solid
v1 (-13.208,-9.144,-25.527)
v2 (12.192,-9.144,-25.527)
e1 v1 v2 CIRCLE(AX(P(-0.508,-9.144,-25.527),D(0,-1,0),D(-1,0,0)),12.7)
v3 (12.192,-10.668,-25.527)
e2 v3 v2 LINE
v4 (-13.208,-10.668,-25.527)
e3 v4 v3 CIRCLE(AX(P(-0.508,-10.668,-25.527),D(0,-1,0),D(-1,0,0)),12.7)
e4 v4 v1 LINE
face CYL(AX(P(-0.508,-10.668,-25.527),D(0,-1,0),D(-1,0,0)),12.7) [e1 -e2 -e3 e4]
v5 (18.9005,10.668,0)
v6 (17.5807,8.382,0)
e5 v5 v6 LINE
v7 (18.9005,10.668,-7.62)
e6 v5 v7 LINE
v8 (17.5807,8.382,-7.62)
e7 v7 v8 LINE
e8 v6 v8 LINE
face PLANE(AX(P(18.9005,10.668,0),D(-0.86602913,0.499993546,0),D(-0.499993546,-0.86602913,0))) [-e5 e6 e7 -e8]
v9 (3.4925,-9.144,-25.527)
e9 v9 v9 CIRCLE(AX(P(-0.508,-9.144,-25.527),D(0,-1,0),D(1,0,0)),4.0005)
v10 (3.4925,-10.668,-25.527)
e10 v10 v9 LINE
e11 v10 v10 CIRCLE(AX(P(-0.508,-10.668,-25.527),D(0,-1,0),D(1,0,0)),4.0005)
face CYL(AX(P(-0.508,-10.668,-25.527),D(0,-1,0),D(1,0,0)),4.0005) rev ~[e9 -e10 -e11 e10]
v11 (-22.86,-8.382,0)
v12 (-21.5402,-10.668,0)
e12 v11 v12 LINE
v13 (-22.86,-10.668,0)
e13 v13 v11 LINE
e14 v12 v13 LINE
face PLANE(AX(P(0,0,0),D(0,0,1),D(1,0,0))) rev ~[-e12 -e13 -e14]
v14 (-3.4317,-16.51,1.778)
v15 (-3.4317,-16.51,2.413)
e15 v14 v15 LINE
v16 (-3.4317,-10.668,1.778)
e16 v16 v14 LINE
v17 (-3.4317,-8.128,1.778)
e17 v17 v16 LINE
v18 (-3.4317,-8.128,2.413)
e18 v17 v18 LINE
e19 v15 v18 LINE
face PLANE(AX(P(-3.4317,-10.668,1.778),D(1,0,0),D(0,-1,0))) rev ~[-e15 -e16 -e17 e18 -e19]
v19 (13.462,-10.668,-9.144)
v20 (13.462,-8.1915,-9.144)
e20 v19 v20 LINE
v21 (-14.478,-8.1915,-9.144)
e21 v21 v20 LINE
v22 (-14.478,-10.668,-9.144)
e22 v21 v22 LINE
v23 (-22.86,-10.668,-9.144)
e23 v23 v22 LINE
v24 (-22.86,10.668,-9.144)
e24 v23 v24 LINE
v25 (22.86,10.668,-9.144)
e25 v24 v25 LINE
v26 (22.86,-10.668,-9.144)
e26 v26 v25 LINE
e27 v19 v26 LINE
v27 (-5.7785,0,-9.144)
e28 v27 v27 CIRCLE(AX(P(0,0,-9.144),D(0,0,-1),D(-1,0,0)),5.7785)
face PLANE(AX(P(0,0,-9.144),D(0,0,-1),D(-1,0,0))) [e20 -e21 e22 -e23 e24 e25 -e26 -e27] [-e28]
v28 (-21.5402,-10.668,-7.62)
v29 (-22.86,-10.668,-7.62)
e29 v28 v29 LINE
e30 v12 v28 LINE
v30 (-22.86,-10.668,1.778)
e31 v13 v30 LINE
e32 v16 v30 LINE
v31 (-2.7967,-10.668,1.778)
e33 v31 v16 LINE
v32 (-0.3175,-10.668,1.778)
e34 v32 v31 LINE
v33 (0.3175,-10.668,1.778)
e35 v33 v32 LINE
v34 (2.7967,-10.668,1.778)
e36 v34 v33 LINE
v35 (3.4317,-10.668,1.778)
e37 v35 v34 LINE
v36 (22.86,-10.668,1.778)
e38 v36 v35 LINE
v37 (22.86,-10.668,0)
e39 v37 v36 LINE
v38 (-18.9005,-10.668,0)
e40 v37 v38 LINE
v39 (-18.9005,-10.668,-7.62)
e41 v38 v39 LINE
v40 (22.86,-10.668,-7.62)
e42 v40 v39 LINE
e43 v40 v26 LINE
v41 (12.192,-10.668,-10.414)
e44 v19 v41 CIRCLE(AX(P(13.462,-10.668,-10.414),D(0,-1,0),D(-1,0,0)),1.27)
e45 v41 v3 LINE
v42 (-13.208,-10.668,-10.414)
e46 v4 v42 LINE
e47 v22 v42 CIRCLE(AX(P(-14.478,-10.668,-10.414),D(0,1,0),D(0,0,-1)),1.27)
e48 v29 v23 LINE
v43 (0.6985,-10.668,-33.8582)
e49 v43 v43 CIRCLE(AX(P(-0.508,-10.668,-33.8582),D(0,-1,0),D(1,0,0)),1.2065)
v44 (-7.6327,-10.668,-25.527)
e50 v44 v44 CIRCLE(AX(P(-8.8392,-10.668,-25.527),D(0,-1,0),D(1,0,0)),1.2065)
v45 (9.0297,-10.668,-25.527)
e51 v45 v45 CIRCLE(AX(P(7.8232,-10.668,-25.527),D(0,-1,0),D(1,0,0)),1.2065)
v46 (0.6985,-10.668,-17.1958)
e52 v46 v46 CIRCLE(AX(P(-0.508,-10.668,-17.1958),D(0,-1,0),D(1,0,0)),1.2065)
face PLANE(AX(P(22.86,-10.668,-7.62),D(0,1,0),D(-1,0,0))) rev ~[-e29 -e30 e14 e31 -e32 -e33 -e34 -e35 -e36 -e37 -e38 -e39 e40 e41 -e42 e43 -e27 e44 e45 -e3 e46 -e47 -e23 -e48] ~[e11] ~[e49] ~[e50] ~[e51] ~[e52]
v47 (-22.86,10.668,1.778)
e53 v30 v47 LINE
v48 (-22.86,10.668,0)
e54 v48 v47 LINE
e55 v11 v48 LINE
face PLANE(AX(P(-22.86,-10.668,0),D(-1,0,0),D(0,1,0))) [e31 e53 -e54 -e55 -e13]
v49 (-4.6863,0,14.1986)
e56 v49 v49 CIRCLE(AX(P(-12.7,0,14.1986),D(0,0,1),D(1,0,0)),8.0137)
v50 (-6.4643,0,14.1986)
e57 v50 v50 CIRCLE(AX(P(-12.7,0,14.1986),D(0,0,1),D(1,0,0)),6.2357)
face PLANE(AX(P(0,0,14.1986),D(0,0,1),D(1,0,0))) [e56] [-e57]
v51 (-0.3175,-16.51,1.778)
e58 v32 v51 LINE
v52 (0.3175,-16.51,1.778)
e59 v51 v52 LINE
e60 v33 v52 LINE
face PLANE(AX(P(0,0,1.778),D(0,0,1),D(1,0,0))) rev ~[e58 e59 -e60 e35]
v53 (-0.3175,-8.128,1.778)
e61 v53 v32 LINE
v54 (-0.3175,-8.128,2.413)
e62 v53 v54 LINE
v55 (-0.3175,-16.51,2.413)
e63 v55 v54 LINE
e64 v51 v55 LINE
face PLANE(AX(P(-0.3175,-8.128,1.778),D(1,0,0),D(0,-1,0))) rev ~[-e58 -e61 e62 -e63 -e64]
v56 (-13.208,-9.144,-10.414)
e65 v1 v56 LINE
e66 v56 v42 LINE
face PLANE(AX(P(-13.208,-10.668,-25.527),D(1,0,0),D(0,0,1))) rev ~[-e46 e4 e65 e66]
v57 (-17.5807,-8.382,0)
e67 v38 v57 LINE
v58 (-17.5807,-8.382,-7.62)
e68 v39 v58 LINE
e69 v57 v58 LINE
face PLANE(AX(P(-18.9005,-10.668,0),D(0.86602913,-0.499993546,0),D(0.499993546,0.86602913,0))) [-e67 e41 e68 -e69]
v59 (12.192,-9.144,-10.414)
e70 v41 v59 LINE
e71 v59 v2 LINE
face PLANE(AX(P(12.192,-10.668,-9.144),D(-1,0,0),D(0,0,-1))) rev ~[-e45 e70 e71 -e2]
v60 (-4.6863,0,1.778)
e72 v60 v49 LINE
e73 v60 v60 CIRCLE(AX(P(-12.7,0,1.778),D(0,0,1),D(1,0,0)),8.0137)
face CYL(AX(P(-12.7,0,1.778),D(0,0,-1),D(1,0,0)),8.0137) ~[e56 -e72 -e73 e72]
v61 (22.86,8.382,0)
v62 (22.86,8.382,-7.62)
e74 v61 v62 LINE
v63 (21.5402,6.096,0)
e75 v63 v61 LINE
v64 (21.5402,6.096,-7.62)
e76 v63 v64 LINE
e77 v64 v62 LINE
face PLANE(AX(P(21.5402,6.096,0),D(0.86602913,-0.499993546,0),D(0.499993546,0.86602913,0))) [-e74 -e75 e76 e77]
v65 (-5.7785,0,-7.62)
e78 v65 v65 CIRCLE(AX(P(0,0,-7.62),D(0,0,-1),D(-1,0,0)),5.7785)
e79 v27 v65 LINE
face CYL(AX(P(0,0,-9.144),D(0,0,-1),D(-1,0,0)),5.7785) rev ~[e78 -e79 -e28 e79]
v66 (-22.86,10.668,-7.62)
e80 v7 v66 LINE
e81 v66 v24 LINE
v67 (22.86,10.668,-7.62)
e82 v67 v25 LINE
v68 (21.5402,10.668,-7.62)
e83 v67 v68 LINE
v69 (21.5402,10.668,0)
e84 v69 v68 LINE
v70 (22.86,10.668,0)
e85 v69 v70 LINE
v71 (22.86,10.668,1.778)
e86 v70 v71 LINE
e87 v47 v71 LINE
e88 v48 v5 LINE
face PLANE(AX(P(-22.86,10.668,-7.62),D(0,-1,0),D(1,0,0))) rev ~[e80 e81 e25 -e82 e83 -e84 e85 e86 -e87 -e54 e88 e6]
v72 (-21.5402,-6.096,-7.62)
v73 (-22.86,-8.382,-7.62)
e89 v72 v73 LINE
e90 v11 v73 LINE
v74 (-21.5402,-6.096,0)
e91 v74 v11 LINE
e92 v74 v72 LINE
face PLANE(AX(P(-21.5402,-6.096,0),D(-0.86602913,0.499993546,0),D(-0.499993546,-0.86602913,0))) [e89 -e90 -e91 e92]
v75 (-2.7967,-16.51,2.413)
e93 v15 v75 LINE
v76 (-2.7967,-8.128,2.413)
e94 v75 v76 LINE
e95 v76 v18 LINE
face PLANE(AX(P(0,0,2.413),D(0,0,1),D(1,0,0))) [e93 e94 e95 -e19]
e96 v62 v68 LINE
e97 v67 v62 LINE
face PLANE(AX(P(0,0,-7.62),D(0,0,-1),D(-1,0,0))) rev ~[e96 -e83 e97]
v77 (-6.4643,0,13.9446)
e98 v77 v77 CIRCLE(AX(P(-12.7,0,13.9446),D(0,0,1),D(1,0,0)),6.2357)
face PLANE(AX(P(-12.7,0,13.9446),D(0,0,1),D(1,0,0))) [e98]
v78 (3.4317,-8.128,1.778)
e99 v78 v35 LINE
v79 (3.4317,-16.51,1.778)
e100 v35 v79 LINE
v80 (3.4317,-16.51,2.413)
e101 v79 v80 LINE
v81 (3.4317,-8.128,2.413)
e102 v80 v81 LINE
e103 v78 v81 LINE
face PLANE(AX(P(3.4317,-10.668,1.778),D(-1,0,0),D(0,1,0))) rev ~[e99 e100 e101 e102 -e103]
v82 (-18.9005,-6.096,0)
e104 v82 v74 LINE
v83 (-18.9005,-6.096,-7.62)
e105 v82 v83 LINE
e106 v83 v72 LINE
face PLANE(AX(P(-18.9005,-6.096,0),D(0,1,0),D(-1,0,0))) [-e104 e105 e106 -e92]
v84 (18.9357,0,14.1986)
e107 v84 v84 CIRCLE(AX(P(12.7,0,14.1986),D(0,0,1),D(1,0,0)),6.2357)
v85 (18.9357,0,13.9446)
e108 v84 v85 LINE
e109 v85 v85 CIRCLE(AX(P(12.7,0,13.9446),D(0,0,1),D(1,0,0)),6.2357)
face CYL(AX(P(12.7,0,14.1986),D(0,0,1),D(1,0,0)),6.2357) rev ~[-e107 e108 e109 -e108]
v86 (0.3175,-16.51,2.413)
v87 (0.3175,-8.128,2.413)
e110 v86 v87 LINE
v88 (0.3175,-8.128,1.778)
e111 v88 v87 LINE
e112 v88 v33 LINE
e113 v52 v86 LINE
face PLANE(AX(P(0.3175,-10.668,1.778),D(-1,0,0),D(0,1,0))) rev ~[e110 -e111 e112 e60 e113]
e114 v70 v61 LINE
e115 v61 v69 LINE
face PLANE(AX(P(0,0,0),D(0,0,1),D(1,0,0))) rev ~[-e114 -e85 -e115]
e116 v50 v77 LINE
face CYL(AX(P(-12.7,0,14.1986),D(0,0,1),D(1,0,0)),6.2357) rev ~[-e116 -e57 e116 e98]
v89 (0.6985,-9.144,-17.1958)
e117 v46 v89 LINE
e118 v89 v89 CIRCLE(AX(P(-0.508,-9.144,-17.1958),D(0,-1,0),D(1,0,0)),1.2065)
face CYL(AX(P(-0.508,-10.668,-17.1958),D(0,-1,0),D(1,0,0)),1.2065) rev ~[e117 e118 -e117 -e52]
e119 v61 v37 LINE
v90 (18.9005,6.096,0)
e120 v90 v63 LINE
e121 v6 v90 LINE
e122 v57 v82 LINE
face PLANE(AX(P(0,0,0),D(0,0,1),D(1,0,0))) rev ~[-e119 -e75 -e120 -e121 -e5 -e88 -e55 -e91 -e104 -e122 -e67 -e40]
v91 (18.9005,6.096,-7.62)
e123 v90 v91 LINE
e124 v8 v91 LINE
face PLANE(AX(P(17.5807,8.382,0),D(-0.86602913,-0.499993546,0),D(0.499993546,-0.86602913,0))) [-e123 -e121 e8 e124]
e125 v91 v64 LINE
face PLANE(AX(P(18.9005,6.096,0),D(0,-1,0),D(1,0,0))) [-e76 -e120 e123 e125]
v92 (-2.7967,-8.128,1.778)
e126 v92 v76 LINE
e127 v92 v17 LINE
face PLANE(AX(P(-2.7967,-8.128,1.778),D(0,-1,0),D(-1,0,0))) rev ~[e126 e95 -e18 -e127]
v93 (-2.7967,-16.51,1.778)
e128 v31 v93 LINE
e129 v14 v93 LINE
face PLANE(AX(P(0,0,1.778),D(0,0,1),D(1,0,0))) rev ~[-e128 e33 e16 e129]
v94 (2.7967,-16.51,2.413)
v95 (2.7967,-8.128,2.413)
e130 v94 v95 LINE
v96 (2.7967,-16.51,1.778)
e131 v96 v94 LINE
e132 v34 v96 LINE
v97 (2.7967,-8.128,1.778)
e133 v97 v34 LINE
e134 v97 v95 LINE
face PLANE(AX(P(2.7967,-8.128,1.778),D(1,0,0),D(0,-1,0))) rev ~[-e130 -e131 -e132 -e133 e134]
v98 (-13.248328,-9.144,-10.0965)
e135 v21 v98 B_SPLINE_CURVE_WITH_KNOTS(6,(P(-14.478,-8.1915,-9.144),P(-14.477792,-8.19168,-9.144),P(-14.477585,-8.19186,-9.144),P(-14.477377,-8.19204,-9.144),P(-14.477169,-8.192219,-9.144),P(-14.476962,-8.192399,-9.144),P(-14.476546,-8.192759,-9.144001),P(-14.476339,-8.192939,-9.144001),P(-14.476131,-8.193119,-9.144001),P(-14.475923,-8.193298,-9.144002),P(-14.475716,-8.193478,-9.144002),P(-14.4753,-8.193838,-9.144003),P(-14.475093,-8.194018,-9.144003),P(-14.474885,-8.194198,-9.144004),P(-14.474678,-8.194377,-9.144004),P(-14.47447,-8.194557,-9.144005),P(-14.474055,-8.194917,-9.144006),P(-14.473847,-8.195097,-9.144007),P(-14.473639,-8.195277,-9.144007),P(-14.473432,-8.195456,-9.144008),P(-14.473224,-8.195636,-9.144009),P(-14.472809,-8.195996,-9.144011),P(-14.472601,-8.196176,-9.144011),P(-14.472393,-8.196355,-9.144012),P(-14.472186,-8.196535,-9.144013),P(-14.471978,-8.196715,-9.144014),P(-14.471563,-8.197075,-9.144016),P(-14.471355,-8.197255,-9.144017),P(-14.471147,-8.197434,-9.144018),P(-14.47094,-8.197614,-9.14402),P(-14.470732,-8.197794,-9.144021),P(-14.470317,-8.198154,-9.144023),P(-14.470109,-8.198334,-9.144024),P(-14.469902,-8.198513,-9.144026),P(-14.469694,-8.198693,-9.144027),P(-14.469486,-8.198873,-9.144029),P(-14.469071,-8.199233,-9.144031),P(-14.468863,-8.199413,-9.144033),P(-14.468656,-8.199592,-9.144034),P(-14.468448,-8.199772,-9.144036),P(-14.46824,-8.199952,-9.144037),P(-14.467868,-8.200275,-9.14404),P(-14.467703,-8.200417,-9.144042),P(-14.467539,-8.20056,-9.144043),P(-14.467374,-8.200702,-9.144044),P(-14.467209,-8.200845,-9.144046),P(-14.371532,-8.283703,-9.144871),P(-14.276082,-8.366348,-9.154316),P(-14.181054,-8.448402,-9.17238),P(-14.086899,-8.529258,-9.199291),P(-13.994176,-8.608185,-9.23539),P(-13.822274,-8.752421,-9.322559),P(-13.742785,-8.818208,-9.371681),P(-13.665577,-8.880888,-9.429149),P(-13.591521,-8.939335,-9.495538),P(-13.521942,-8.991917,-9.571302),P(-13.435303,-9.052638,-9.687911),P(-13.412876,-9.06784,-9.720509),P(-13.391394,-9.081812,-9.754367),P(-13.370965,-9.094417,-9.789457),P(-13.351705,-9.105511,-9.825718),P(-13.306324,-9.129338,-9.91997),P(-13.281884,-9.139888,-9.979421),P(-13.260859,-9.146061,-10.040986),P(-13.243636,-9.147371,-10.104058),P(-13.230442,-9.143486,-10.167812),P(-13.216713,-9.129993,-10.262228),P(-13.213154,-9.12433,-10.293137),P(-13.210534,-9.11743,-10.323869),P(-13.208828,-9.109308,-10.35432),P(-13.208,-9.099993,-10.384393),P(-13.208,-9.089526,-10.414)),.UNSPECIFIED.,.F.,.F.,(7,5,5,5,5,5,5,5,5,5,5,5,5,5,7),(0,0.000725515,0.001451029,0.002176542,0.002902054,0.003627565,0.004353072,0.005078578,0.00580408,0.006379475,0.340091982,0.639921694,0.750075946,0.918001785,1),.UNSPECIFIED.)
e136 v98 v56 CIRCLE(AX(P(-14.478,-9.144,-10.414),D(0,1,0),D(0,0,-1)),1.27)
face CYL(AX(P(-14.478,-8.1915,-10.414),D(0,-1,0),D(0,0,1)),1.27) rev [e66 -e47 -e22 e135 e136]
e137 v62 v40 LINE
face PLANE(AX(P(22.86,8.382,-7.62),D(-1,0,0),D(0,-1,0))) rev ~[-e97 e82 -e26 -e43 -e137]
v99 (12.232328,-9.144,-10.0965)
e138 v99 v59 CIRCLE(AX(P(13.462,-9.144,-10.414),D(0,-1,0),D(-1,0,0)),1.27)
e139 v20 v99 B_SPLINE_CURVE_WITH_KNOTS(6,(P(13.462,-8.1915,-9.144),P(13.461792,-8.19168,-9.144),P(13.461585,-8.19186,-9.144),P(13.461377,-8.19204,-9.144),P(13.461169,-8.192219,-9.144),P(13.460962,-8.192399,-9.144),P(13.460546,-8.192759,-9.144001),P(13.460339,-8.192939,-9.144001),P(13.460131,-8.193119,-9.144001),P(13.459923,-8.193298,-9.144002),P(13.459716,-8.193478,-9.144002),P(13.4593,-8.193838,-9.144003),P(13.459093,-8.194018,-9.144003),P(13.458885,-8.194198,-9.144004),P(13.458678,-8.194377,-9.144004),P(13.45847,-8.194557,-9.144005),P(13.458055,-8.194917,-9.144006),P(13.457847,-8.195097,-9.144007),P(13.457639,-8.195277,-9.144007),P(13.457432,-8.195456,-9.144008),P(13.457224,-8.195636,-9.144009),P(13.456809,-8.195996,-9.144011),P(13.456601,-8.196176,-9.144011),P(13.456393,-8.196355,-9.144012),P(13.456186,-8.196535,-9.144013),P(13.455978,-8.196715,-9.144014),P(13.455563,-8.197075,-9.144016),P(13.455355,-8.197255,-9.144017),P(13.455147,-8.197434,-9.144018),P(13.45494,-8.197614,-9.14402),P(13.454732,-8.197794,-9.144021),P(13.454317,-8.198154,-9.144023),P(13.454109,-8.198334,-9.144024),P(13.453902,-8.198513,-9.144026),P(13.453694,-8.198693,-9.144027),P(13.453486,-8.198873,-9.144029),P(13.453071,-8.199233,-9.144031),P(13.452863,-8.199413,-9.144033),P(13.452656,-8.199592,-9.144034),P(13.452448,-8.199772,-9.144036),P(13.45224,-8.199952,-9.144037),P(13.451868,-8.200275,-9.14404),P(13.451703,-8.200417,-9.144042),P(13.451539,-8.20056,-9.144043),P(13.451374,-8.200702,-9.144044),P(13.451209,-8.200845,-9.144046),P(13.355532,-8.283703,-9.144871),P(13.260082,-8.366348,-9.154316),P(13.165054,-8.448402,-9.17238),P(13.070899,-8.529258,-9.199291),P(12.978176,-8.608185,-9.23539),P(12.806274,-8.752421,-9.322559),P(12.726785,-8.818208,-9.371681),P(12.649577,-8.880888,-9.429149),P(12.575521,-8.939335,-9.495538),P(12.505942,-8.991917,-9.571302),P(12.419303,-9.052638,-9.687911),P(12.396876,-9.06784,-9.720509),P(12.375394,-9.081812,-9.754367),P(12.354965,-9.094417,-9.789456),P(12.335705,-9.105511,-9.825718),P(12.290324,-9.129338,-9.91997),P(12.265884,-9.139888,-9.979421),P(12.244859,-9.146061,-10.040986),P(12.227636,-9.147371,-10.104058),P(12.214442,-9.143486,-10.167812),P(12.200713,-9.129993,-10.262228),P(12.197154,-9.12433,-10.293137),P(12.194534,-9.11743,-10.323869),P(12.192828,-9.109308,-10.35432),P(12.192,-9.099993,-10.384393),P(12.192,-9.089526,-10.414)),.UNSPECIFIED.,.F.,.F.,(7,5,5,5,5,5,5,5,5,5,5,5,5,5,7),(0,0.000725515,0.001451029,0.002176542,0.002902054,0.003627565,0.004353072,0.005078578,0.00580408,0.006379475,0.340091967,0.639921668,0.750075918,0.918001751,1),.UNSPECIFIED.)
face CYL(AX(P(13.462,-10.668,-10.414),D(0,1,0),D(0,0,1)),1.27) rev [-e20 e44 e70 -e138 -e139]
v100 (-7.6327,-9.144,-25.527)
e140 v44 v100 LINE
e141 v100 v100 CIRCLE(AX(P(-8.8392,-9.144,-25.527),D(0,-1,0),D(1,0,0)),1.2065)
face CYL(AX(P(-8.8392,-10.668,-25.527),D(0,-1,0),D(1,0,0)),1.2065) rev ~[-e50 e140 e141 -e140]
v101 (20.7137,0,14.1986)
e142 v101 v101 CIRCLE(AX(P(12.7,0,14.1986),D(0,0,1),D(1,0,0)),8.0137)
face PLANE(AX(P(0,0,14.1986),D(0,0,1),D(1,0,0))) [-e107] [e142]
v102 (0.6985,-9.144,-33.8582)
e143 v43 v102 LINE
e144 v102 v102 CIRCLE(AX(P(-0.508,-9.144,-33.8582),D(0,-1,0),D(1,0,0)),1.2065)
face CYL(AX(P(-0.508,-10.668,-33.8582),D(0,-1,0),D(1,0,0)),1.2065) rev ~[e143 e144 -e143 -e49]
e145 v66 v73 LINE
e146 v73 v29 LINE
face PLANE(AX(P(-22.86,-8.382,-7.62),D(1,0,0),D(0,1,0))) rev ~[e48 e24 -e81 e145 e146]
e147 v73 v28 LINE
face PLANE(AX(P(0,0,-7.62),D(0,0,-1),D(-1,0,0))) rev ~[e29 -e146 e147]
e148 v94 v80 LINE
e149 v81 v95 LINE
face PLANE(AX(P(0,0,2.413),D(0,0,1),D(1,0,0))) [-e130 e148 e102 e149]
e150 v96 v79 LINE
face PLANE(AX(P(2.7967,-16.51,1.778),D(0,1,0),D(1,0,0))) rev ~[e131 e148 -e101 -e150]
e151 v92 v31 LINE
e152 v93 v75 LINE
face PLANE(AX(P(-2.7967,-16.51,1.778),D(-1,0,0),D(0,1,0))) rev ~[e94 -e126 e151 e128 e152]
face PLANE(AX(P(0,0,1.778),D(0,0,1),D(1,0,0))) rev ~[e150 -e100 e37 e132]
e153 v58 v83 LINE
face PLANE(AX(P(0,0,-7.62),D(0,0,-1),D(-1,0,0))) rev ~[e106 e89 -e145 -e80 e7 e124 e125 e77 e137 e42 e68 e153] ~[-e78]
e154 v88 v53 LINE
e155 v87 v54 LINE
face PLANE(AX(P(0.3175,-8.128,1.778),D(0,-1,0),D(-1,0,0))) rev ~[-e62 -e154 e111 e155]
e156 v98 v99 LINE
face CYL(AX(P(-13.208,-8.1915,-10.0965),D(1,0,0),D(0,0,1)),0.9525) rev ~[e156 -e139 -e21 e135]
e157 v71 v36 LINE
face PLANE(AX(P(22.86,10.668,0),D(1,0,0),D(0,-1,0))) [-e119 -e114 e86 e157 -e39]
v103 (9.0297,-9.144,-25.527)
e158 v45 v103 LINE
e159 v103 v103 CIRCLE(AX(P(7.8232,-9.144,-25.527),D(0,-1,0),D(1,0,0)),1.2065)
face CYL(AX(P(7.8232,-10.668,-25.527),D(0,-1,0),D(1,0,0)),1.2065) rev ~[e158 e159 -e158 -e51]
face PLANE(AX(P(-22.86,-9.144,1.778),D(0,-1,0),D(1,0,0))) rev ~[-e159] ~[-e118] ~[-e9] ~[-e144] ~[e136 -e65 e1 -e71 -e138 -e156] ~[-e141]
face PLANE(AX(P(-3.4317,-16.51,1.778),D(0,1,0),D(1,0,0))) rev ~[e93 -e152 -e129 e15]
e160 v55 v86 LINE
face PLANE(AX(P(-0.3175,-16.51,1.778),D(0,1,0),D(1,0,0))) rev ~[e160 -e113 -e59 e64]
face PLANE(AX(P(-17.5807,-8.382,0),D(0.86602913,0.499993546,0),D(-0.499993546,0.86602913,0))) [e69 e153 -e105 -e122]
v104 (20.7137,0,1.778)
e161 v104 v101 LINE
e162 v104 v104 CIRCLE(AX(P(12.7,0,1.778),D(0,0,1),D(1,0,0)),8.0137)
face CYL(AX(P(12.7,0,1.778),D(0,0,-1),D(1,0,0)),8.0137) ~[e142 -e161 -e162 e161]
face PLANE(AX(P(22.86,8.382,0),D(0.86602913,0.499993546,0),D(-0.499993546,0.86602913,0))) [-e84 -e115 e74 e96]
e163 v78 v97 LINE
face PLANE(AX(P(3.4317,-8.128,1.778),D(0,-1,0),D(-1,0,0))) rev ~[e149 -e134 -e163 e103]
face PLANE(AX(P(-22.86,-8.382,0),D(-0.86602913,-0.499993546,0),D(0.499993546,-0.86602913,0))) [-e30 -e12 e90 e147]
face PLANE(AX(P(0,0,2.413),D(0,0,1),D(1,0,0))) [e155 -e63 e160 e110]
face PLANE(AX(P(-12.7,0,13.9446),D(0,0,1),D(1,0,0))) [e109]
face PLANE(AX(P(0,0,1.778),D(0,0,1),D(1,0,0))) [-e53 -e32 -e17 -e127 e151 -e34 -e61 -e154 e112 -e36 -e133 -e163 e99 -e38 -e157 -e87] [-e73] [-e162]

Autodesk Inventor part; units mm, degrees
ref_plane "YZ Plane" through (0, 0, 0) normal (1, 0, 0) x (0, 1, 0)
ref_plane "XZ Plane" through (0, 0, 0) normal (0, 1, 0) x (-1, 0, 0)
sketch "Sketch1" plane through (0, 0, 0) normal (0, 0, 1) x (1, 0, 0)
  line L0 (-22.86, 10.668) -> (22.86, 10.668)
  line L1 (22.86, 10.668) -> (22.86, -10.668)
  line L2 (22.86, -10.668) -> (-22.86, -10.668)
  line L3 (-22.86, -10.668) -> (-22.86, 10.668)
  point P0 (0, 0)
  point P1 (-22.86, 0)
  point P2 (0, 10.668)
  dimension "d0" = 45.72
  dimension "d1" = 21.336
extrude "Extrusion1" add sketch "Sketch1" along normal blind 1.778
sketch "Sketch2" plane through (0, 0, 1.778) normal (0, 0, 1) x (1, 0, 0)
  circle A0 centre (-12.7, 0) radius 8.0137
  circle A1 centre (12.7, 0) radius 8.0137
  point P0 (0, 0)
  dimension "d4" = 16.0274
  dimension "d5" = 16.0274
  dimension "d6" = 12.7
  dimension "d7" = 12.7
extrude "Extrusion2" add sketch "Sketch2" along normal blind 12.4206
sketch "Sketch3" plane through (-12.7, 0, 14.1986) normal (0, 0, 1) x (1, 0, 0)
  circle A0 centre (0, 0) radius 8.0137 projected
  circle A1 centre (25.4, 0) radius 8.0137 projected
  circle A2 centre (0, 0) radius 6.2357
  circle A3 centre (25.4, 0) radius 6.2357
  point P0 (12.7, 0)
  dimension "d11" = 1.778
  dimension "d12" = 1.778
extrude "Extrusion3" cut sketch "Sketch3" against normal blind 0.254 contours A2 | A3
sketch "Sketch4" plane through (0, 0, 0) normal (0, 0, -1) x (-1, 0, 0)
  line L0 (-18.9005, 6.096) -> (-21.5402, 6.096)
  line L1 (-21.5402, 6.096) -> (-22.86, 8.382)
  line L2 (-22.86, 8.382) -> (-21.5402, 10.668)
  line L3 (-21.5402, 10.668) -> (-18.9005, 10.668)
  line L4 (-18.9005, 10.668) -> (-17.5807, 8.382)
  line L5 (-17.5807, 8.382) -> (-18.9005, 6.096)
  line L6 (21.5402, -10.668) -> (18.9005, -10.668)
  line L7 (18.9005, -10.668) -> (17.5807, -8.382)
  line L8 (17.5807, -8.382) -> (18.9005, -6.096)
  line L9 (18.9005, -6.096) -> (21.5402, -6.096)
  line L10 (21.5402, -6.096) -> (22.86, -8.382)
  line L11 (22.86, -8.382) -> (21.5402, -10.668)
  line L12 (22.86, 10.668) -> (-22.86, 10.668) projected
  line L13 (-22.86, -10.668) -> (22.86, -10.668) projected
  line L14 (22.86, -10.668) -> (22.86, 10.668) projected
  line L15 (-22.86, 10.668) -> (-22.86, -10.668) projected
  point P0 (0, 0)
  point P1 (-20.2204, 8.382)
  point P2 (20.2204, -8.382)
  dimension "d15" = 4.572
  dimension "d16" = 4.572
extrude "Extrusion4" add sketch "Sketch4" along normal blind 7.62 contours L0 L1 L2 L3 L4 L5 | L7 L8 L9 L10 L11 L6
sketch "Sketch5" plane through (0, 0, -7.62) normal (0, 0, -1) x (-1, 0, 0)
  line L0 (18.9005, -10.668) -> (17.5807, -8.382) projected
  line L1 (17.5807, -8.382) -> (18.9005, -6.096) projected
  line L2 (18.9005, -6.096) -> (21.5402, -6.096) projected
  line L3 (21.5402, -6.096) -> (22.86, -8.382) projected
  line L4 (22.86, -8.382) -> (22.86, 10.668) projected
  line L5 (22.86, 10.668) -> (-18.9005, 10.668) projected
  line L6 (-18.9005, 10.668) -> (-17.5807, 8.382) projected
  line L7 (-17.5807, 8.382) -> (-18.9005, 6.096) projected
  line L8 (-18.9005, 6.096) -> (-21.5402, 6.096) projected
  line L9 (-21.5402, 6.096) -> (-22.86, 8.382) projected
  line L10 (-22.86, 8.382) -> (-22.86, -10.668) projected
  line L11 (-22.86, -10.668) -> (18.9005, -10.668) projected
  line L12 (-21.5402, 10.668) -> (-22.86, 10.668) projected
  line L13 (-22.86, 10.668) -> (-22.86, 8.382) projected
  line L14 (-18.9005, 10.668) -> (-21.5402, 10.668) projected
  line L15 (18.9005, -10.668) -> (21.5402, -10.668) projected
  line L16 (22.86, -10.668) -> (22.86, -8.382) projected
  line L17 (21.5402, -10.668) -> (22.86, -10.668) projected
  line L18 (-21.5402, 6.096) -> (-18.9005, 6.096) projected
  line L19 (-22.86, 8.382) -> (-21.5402, 6.096) projected
  line L20 (-22.86, 10.668) -> (22.86, 10.668) projected
  line L21 (-22.86, 10.668) -> (22.86, 10.668)
  line L22 (22.86, 10.668) -> (22.86, -10.668)
  line L23 (22.86, -10.668) -> (-22.86, -10.668)
  line L24 (-22.86, -10.668) -> (-22.86, 10.668)
  point P0 (0, 0)
extrude "Extrusion5" add sketch "Sketch5" along normal blind 1.524
ref_plane "Work Plane1" through (-22.86, -10.668, 1.778) normal (0, -1, 0) x (1, 0, 0)
sketch "Sketch6" plane through (-22.86, -10.668, 1.778) normal (0, -1, 0) x (1, 0, 0)
  line L0 (0, -1.778) -> (0, -9.398) projected
  line L1 (22.352, -10.922) -> (22.352, -27.305) construction
  line L2 (35.052, -10.922) -> (35.052, -27.305)
  line L3 (9.652, -27.305) -> (9.652, -10.922)
  arc A0 (9.652, -27.305) -> (35.052, -27.305) centre (22.352, -27.305) ccw
  line L4 (0, -10.922) -> (45.72, -10.922) projected
  line L5 (35.052, -10.922) -> (9.652, -10.922)
  point P0 (22.86, -1.778)
  point P1 (22.352, -19.1135)
  point P2 (22.352, -40.005)
  dimension "d23" = 9.652
  dimension "d25" = 25.4
  dimension "d26" = 29.083
  dimension "d27" = 0
  dimension "d28" = 0
extrude "Extrusion6" add sketch "Sketch6" against normal blind 1.524
fillet "Fillet1" radius 0.9525 1 edges at (-0.508, -9.144, -9.144)
sketch "Sketch7" plane through (0, 0, -9.144) normal (0, 0, -1) x (-1, 0, 0)
  circle A0 centre (0, 0) radius 5.7785
  dimension "d32" = 11.557
extrude "Extrusion7" cut sketch "Sketch7" against normal up to next
sketch "Sketch8" plane through (-22.86, -10.668, 1.778) normal (0, -1, 0) x (1, 0, 0)
  arc A0 (9.652, -27.305) -> (35.052, -27.305) centre (22.352, -27.305) ccw projected
  line L0 (9.652, -27.305) -> (9.652, -10.922) projected
  line L1 (35.052, -10.922) -> (35.052, -27.305) projected
  circle A1 centre (22.352, -27.305) radius 4.0005
  circle A2 centre (22.352, -35.6362) radius 1.2065
  circle A3 centre (30.6832, -27.305) radius 1.2065
  circle A4 centre (14.0208, -27.305) radius 1.2065
  circle A5 centre (22.352, -18.9738) radius 1.2065
  point P0 (22.86, -1.778)
  dimension "d35" = 8.001
  dimension "d36" = 2.413
  dimension "d37" = 2.413
  dimension "d38" = 2.413
  dimension "d39" = 2.413
  dimension "d40" = 8.3312
  dimension "d41" = 8.3312
  dimension "d42" = 8.3312
  dimension "d43" = 8.3312
extrude "Extrusion8" cut sketch "Sketch8" against normal through all
fillet "Fillet2" radius 1.27 2 edges at (12.192, -9.4298, -9.144) (-13.208, -9.4298, -9.144)
sketch "Sketch9" plane through (0, 0, 1.778) normal (0, 0, 1) x (1, 0, 0)
  line L0 (-3.4317, -16.51) -> (-2.7967, -16.51)
  line L1 (-2.7967, -16.51) -> (-2.7967, -8.128)
  line L2 (-2.7967, -8.128) -> (-3.4317, -8.128)
  line L3 (-3.4317, -8.128) -> (-3.4317, -16.51)
  line L4 (-0.3175, -16.51) -> (0.3175, -16.51)
  line L5 (0.3175, -16.51) -> (0.3175, -8.128)
  line L6 (0.3175, -8.128) -> (-0.3175, -8.128)
  line L7 (-0.3175, -8.128) -> (-0.3175, -16.51)
  line L8 (2.7967, -16.51) -> (3.4317, -16.51)
  line L9 (3.4317, -16.51) -> (3.4317, -8.128)
  line L10 (3.4317, -8.128) -> (2.7967, -8.128)
  line L11 (2.7967, -8.128) -> (2.7967, -16.51)
  line L12 (-22.86, -10.668) -> (22.86, -10.668) projected
  point P0 (0, 0)
  point P1 (0, -8.128)
  point P2 (-2.7967, -12.319)
  point P3 (-0.3175, -12.319)
  point P4 (2.7967, -12.319)
  point P5 (-3.1142, -8.128)
  dimension "d47" = 2.4792
  dimension "d48" = 2.4792
  dimension "d49" = 0.635
  dimension "d50" = 8.382
  dimension "d51" = 2.54
extrude "Extrusion9" add sketch "Sketch9" along normal blind 0.635
equation "\"d5\" = d4"
equation "\"d7\" = d6"
equation "\"d12\" = d11"
equation "\"d16\" = d15"
equation "\"d37\" = d36"
equation "\"d38\" = d36"
equation "\"d39\" = d36"
equation "\"d41\" = d40"
equation "\"d42\" = d40"
equation "\"d43\" = d40"
equation "\"d48\" = d47"
properties part number "Ultrasound"
